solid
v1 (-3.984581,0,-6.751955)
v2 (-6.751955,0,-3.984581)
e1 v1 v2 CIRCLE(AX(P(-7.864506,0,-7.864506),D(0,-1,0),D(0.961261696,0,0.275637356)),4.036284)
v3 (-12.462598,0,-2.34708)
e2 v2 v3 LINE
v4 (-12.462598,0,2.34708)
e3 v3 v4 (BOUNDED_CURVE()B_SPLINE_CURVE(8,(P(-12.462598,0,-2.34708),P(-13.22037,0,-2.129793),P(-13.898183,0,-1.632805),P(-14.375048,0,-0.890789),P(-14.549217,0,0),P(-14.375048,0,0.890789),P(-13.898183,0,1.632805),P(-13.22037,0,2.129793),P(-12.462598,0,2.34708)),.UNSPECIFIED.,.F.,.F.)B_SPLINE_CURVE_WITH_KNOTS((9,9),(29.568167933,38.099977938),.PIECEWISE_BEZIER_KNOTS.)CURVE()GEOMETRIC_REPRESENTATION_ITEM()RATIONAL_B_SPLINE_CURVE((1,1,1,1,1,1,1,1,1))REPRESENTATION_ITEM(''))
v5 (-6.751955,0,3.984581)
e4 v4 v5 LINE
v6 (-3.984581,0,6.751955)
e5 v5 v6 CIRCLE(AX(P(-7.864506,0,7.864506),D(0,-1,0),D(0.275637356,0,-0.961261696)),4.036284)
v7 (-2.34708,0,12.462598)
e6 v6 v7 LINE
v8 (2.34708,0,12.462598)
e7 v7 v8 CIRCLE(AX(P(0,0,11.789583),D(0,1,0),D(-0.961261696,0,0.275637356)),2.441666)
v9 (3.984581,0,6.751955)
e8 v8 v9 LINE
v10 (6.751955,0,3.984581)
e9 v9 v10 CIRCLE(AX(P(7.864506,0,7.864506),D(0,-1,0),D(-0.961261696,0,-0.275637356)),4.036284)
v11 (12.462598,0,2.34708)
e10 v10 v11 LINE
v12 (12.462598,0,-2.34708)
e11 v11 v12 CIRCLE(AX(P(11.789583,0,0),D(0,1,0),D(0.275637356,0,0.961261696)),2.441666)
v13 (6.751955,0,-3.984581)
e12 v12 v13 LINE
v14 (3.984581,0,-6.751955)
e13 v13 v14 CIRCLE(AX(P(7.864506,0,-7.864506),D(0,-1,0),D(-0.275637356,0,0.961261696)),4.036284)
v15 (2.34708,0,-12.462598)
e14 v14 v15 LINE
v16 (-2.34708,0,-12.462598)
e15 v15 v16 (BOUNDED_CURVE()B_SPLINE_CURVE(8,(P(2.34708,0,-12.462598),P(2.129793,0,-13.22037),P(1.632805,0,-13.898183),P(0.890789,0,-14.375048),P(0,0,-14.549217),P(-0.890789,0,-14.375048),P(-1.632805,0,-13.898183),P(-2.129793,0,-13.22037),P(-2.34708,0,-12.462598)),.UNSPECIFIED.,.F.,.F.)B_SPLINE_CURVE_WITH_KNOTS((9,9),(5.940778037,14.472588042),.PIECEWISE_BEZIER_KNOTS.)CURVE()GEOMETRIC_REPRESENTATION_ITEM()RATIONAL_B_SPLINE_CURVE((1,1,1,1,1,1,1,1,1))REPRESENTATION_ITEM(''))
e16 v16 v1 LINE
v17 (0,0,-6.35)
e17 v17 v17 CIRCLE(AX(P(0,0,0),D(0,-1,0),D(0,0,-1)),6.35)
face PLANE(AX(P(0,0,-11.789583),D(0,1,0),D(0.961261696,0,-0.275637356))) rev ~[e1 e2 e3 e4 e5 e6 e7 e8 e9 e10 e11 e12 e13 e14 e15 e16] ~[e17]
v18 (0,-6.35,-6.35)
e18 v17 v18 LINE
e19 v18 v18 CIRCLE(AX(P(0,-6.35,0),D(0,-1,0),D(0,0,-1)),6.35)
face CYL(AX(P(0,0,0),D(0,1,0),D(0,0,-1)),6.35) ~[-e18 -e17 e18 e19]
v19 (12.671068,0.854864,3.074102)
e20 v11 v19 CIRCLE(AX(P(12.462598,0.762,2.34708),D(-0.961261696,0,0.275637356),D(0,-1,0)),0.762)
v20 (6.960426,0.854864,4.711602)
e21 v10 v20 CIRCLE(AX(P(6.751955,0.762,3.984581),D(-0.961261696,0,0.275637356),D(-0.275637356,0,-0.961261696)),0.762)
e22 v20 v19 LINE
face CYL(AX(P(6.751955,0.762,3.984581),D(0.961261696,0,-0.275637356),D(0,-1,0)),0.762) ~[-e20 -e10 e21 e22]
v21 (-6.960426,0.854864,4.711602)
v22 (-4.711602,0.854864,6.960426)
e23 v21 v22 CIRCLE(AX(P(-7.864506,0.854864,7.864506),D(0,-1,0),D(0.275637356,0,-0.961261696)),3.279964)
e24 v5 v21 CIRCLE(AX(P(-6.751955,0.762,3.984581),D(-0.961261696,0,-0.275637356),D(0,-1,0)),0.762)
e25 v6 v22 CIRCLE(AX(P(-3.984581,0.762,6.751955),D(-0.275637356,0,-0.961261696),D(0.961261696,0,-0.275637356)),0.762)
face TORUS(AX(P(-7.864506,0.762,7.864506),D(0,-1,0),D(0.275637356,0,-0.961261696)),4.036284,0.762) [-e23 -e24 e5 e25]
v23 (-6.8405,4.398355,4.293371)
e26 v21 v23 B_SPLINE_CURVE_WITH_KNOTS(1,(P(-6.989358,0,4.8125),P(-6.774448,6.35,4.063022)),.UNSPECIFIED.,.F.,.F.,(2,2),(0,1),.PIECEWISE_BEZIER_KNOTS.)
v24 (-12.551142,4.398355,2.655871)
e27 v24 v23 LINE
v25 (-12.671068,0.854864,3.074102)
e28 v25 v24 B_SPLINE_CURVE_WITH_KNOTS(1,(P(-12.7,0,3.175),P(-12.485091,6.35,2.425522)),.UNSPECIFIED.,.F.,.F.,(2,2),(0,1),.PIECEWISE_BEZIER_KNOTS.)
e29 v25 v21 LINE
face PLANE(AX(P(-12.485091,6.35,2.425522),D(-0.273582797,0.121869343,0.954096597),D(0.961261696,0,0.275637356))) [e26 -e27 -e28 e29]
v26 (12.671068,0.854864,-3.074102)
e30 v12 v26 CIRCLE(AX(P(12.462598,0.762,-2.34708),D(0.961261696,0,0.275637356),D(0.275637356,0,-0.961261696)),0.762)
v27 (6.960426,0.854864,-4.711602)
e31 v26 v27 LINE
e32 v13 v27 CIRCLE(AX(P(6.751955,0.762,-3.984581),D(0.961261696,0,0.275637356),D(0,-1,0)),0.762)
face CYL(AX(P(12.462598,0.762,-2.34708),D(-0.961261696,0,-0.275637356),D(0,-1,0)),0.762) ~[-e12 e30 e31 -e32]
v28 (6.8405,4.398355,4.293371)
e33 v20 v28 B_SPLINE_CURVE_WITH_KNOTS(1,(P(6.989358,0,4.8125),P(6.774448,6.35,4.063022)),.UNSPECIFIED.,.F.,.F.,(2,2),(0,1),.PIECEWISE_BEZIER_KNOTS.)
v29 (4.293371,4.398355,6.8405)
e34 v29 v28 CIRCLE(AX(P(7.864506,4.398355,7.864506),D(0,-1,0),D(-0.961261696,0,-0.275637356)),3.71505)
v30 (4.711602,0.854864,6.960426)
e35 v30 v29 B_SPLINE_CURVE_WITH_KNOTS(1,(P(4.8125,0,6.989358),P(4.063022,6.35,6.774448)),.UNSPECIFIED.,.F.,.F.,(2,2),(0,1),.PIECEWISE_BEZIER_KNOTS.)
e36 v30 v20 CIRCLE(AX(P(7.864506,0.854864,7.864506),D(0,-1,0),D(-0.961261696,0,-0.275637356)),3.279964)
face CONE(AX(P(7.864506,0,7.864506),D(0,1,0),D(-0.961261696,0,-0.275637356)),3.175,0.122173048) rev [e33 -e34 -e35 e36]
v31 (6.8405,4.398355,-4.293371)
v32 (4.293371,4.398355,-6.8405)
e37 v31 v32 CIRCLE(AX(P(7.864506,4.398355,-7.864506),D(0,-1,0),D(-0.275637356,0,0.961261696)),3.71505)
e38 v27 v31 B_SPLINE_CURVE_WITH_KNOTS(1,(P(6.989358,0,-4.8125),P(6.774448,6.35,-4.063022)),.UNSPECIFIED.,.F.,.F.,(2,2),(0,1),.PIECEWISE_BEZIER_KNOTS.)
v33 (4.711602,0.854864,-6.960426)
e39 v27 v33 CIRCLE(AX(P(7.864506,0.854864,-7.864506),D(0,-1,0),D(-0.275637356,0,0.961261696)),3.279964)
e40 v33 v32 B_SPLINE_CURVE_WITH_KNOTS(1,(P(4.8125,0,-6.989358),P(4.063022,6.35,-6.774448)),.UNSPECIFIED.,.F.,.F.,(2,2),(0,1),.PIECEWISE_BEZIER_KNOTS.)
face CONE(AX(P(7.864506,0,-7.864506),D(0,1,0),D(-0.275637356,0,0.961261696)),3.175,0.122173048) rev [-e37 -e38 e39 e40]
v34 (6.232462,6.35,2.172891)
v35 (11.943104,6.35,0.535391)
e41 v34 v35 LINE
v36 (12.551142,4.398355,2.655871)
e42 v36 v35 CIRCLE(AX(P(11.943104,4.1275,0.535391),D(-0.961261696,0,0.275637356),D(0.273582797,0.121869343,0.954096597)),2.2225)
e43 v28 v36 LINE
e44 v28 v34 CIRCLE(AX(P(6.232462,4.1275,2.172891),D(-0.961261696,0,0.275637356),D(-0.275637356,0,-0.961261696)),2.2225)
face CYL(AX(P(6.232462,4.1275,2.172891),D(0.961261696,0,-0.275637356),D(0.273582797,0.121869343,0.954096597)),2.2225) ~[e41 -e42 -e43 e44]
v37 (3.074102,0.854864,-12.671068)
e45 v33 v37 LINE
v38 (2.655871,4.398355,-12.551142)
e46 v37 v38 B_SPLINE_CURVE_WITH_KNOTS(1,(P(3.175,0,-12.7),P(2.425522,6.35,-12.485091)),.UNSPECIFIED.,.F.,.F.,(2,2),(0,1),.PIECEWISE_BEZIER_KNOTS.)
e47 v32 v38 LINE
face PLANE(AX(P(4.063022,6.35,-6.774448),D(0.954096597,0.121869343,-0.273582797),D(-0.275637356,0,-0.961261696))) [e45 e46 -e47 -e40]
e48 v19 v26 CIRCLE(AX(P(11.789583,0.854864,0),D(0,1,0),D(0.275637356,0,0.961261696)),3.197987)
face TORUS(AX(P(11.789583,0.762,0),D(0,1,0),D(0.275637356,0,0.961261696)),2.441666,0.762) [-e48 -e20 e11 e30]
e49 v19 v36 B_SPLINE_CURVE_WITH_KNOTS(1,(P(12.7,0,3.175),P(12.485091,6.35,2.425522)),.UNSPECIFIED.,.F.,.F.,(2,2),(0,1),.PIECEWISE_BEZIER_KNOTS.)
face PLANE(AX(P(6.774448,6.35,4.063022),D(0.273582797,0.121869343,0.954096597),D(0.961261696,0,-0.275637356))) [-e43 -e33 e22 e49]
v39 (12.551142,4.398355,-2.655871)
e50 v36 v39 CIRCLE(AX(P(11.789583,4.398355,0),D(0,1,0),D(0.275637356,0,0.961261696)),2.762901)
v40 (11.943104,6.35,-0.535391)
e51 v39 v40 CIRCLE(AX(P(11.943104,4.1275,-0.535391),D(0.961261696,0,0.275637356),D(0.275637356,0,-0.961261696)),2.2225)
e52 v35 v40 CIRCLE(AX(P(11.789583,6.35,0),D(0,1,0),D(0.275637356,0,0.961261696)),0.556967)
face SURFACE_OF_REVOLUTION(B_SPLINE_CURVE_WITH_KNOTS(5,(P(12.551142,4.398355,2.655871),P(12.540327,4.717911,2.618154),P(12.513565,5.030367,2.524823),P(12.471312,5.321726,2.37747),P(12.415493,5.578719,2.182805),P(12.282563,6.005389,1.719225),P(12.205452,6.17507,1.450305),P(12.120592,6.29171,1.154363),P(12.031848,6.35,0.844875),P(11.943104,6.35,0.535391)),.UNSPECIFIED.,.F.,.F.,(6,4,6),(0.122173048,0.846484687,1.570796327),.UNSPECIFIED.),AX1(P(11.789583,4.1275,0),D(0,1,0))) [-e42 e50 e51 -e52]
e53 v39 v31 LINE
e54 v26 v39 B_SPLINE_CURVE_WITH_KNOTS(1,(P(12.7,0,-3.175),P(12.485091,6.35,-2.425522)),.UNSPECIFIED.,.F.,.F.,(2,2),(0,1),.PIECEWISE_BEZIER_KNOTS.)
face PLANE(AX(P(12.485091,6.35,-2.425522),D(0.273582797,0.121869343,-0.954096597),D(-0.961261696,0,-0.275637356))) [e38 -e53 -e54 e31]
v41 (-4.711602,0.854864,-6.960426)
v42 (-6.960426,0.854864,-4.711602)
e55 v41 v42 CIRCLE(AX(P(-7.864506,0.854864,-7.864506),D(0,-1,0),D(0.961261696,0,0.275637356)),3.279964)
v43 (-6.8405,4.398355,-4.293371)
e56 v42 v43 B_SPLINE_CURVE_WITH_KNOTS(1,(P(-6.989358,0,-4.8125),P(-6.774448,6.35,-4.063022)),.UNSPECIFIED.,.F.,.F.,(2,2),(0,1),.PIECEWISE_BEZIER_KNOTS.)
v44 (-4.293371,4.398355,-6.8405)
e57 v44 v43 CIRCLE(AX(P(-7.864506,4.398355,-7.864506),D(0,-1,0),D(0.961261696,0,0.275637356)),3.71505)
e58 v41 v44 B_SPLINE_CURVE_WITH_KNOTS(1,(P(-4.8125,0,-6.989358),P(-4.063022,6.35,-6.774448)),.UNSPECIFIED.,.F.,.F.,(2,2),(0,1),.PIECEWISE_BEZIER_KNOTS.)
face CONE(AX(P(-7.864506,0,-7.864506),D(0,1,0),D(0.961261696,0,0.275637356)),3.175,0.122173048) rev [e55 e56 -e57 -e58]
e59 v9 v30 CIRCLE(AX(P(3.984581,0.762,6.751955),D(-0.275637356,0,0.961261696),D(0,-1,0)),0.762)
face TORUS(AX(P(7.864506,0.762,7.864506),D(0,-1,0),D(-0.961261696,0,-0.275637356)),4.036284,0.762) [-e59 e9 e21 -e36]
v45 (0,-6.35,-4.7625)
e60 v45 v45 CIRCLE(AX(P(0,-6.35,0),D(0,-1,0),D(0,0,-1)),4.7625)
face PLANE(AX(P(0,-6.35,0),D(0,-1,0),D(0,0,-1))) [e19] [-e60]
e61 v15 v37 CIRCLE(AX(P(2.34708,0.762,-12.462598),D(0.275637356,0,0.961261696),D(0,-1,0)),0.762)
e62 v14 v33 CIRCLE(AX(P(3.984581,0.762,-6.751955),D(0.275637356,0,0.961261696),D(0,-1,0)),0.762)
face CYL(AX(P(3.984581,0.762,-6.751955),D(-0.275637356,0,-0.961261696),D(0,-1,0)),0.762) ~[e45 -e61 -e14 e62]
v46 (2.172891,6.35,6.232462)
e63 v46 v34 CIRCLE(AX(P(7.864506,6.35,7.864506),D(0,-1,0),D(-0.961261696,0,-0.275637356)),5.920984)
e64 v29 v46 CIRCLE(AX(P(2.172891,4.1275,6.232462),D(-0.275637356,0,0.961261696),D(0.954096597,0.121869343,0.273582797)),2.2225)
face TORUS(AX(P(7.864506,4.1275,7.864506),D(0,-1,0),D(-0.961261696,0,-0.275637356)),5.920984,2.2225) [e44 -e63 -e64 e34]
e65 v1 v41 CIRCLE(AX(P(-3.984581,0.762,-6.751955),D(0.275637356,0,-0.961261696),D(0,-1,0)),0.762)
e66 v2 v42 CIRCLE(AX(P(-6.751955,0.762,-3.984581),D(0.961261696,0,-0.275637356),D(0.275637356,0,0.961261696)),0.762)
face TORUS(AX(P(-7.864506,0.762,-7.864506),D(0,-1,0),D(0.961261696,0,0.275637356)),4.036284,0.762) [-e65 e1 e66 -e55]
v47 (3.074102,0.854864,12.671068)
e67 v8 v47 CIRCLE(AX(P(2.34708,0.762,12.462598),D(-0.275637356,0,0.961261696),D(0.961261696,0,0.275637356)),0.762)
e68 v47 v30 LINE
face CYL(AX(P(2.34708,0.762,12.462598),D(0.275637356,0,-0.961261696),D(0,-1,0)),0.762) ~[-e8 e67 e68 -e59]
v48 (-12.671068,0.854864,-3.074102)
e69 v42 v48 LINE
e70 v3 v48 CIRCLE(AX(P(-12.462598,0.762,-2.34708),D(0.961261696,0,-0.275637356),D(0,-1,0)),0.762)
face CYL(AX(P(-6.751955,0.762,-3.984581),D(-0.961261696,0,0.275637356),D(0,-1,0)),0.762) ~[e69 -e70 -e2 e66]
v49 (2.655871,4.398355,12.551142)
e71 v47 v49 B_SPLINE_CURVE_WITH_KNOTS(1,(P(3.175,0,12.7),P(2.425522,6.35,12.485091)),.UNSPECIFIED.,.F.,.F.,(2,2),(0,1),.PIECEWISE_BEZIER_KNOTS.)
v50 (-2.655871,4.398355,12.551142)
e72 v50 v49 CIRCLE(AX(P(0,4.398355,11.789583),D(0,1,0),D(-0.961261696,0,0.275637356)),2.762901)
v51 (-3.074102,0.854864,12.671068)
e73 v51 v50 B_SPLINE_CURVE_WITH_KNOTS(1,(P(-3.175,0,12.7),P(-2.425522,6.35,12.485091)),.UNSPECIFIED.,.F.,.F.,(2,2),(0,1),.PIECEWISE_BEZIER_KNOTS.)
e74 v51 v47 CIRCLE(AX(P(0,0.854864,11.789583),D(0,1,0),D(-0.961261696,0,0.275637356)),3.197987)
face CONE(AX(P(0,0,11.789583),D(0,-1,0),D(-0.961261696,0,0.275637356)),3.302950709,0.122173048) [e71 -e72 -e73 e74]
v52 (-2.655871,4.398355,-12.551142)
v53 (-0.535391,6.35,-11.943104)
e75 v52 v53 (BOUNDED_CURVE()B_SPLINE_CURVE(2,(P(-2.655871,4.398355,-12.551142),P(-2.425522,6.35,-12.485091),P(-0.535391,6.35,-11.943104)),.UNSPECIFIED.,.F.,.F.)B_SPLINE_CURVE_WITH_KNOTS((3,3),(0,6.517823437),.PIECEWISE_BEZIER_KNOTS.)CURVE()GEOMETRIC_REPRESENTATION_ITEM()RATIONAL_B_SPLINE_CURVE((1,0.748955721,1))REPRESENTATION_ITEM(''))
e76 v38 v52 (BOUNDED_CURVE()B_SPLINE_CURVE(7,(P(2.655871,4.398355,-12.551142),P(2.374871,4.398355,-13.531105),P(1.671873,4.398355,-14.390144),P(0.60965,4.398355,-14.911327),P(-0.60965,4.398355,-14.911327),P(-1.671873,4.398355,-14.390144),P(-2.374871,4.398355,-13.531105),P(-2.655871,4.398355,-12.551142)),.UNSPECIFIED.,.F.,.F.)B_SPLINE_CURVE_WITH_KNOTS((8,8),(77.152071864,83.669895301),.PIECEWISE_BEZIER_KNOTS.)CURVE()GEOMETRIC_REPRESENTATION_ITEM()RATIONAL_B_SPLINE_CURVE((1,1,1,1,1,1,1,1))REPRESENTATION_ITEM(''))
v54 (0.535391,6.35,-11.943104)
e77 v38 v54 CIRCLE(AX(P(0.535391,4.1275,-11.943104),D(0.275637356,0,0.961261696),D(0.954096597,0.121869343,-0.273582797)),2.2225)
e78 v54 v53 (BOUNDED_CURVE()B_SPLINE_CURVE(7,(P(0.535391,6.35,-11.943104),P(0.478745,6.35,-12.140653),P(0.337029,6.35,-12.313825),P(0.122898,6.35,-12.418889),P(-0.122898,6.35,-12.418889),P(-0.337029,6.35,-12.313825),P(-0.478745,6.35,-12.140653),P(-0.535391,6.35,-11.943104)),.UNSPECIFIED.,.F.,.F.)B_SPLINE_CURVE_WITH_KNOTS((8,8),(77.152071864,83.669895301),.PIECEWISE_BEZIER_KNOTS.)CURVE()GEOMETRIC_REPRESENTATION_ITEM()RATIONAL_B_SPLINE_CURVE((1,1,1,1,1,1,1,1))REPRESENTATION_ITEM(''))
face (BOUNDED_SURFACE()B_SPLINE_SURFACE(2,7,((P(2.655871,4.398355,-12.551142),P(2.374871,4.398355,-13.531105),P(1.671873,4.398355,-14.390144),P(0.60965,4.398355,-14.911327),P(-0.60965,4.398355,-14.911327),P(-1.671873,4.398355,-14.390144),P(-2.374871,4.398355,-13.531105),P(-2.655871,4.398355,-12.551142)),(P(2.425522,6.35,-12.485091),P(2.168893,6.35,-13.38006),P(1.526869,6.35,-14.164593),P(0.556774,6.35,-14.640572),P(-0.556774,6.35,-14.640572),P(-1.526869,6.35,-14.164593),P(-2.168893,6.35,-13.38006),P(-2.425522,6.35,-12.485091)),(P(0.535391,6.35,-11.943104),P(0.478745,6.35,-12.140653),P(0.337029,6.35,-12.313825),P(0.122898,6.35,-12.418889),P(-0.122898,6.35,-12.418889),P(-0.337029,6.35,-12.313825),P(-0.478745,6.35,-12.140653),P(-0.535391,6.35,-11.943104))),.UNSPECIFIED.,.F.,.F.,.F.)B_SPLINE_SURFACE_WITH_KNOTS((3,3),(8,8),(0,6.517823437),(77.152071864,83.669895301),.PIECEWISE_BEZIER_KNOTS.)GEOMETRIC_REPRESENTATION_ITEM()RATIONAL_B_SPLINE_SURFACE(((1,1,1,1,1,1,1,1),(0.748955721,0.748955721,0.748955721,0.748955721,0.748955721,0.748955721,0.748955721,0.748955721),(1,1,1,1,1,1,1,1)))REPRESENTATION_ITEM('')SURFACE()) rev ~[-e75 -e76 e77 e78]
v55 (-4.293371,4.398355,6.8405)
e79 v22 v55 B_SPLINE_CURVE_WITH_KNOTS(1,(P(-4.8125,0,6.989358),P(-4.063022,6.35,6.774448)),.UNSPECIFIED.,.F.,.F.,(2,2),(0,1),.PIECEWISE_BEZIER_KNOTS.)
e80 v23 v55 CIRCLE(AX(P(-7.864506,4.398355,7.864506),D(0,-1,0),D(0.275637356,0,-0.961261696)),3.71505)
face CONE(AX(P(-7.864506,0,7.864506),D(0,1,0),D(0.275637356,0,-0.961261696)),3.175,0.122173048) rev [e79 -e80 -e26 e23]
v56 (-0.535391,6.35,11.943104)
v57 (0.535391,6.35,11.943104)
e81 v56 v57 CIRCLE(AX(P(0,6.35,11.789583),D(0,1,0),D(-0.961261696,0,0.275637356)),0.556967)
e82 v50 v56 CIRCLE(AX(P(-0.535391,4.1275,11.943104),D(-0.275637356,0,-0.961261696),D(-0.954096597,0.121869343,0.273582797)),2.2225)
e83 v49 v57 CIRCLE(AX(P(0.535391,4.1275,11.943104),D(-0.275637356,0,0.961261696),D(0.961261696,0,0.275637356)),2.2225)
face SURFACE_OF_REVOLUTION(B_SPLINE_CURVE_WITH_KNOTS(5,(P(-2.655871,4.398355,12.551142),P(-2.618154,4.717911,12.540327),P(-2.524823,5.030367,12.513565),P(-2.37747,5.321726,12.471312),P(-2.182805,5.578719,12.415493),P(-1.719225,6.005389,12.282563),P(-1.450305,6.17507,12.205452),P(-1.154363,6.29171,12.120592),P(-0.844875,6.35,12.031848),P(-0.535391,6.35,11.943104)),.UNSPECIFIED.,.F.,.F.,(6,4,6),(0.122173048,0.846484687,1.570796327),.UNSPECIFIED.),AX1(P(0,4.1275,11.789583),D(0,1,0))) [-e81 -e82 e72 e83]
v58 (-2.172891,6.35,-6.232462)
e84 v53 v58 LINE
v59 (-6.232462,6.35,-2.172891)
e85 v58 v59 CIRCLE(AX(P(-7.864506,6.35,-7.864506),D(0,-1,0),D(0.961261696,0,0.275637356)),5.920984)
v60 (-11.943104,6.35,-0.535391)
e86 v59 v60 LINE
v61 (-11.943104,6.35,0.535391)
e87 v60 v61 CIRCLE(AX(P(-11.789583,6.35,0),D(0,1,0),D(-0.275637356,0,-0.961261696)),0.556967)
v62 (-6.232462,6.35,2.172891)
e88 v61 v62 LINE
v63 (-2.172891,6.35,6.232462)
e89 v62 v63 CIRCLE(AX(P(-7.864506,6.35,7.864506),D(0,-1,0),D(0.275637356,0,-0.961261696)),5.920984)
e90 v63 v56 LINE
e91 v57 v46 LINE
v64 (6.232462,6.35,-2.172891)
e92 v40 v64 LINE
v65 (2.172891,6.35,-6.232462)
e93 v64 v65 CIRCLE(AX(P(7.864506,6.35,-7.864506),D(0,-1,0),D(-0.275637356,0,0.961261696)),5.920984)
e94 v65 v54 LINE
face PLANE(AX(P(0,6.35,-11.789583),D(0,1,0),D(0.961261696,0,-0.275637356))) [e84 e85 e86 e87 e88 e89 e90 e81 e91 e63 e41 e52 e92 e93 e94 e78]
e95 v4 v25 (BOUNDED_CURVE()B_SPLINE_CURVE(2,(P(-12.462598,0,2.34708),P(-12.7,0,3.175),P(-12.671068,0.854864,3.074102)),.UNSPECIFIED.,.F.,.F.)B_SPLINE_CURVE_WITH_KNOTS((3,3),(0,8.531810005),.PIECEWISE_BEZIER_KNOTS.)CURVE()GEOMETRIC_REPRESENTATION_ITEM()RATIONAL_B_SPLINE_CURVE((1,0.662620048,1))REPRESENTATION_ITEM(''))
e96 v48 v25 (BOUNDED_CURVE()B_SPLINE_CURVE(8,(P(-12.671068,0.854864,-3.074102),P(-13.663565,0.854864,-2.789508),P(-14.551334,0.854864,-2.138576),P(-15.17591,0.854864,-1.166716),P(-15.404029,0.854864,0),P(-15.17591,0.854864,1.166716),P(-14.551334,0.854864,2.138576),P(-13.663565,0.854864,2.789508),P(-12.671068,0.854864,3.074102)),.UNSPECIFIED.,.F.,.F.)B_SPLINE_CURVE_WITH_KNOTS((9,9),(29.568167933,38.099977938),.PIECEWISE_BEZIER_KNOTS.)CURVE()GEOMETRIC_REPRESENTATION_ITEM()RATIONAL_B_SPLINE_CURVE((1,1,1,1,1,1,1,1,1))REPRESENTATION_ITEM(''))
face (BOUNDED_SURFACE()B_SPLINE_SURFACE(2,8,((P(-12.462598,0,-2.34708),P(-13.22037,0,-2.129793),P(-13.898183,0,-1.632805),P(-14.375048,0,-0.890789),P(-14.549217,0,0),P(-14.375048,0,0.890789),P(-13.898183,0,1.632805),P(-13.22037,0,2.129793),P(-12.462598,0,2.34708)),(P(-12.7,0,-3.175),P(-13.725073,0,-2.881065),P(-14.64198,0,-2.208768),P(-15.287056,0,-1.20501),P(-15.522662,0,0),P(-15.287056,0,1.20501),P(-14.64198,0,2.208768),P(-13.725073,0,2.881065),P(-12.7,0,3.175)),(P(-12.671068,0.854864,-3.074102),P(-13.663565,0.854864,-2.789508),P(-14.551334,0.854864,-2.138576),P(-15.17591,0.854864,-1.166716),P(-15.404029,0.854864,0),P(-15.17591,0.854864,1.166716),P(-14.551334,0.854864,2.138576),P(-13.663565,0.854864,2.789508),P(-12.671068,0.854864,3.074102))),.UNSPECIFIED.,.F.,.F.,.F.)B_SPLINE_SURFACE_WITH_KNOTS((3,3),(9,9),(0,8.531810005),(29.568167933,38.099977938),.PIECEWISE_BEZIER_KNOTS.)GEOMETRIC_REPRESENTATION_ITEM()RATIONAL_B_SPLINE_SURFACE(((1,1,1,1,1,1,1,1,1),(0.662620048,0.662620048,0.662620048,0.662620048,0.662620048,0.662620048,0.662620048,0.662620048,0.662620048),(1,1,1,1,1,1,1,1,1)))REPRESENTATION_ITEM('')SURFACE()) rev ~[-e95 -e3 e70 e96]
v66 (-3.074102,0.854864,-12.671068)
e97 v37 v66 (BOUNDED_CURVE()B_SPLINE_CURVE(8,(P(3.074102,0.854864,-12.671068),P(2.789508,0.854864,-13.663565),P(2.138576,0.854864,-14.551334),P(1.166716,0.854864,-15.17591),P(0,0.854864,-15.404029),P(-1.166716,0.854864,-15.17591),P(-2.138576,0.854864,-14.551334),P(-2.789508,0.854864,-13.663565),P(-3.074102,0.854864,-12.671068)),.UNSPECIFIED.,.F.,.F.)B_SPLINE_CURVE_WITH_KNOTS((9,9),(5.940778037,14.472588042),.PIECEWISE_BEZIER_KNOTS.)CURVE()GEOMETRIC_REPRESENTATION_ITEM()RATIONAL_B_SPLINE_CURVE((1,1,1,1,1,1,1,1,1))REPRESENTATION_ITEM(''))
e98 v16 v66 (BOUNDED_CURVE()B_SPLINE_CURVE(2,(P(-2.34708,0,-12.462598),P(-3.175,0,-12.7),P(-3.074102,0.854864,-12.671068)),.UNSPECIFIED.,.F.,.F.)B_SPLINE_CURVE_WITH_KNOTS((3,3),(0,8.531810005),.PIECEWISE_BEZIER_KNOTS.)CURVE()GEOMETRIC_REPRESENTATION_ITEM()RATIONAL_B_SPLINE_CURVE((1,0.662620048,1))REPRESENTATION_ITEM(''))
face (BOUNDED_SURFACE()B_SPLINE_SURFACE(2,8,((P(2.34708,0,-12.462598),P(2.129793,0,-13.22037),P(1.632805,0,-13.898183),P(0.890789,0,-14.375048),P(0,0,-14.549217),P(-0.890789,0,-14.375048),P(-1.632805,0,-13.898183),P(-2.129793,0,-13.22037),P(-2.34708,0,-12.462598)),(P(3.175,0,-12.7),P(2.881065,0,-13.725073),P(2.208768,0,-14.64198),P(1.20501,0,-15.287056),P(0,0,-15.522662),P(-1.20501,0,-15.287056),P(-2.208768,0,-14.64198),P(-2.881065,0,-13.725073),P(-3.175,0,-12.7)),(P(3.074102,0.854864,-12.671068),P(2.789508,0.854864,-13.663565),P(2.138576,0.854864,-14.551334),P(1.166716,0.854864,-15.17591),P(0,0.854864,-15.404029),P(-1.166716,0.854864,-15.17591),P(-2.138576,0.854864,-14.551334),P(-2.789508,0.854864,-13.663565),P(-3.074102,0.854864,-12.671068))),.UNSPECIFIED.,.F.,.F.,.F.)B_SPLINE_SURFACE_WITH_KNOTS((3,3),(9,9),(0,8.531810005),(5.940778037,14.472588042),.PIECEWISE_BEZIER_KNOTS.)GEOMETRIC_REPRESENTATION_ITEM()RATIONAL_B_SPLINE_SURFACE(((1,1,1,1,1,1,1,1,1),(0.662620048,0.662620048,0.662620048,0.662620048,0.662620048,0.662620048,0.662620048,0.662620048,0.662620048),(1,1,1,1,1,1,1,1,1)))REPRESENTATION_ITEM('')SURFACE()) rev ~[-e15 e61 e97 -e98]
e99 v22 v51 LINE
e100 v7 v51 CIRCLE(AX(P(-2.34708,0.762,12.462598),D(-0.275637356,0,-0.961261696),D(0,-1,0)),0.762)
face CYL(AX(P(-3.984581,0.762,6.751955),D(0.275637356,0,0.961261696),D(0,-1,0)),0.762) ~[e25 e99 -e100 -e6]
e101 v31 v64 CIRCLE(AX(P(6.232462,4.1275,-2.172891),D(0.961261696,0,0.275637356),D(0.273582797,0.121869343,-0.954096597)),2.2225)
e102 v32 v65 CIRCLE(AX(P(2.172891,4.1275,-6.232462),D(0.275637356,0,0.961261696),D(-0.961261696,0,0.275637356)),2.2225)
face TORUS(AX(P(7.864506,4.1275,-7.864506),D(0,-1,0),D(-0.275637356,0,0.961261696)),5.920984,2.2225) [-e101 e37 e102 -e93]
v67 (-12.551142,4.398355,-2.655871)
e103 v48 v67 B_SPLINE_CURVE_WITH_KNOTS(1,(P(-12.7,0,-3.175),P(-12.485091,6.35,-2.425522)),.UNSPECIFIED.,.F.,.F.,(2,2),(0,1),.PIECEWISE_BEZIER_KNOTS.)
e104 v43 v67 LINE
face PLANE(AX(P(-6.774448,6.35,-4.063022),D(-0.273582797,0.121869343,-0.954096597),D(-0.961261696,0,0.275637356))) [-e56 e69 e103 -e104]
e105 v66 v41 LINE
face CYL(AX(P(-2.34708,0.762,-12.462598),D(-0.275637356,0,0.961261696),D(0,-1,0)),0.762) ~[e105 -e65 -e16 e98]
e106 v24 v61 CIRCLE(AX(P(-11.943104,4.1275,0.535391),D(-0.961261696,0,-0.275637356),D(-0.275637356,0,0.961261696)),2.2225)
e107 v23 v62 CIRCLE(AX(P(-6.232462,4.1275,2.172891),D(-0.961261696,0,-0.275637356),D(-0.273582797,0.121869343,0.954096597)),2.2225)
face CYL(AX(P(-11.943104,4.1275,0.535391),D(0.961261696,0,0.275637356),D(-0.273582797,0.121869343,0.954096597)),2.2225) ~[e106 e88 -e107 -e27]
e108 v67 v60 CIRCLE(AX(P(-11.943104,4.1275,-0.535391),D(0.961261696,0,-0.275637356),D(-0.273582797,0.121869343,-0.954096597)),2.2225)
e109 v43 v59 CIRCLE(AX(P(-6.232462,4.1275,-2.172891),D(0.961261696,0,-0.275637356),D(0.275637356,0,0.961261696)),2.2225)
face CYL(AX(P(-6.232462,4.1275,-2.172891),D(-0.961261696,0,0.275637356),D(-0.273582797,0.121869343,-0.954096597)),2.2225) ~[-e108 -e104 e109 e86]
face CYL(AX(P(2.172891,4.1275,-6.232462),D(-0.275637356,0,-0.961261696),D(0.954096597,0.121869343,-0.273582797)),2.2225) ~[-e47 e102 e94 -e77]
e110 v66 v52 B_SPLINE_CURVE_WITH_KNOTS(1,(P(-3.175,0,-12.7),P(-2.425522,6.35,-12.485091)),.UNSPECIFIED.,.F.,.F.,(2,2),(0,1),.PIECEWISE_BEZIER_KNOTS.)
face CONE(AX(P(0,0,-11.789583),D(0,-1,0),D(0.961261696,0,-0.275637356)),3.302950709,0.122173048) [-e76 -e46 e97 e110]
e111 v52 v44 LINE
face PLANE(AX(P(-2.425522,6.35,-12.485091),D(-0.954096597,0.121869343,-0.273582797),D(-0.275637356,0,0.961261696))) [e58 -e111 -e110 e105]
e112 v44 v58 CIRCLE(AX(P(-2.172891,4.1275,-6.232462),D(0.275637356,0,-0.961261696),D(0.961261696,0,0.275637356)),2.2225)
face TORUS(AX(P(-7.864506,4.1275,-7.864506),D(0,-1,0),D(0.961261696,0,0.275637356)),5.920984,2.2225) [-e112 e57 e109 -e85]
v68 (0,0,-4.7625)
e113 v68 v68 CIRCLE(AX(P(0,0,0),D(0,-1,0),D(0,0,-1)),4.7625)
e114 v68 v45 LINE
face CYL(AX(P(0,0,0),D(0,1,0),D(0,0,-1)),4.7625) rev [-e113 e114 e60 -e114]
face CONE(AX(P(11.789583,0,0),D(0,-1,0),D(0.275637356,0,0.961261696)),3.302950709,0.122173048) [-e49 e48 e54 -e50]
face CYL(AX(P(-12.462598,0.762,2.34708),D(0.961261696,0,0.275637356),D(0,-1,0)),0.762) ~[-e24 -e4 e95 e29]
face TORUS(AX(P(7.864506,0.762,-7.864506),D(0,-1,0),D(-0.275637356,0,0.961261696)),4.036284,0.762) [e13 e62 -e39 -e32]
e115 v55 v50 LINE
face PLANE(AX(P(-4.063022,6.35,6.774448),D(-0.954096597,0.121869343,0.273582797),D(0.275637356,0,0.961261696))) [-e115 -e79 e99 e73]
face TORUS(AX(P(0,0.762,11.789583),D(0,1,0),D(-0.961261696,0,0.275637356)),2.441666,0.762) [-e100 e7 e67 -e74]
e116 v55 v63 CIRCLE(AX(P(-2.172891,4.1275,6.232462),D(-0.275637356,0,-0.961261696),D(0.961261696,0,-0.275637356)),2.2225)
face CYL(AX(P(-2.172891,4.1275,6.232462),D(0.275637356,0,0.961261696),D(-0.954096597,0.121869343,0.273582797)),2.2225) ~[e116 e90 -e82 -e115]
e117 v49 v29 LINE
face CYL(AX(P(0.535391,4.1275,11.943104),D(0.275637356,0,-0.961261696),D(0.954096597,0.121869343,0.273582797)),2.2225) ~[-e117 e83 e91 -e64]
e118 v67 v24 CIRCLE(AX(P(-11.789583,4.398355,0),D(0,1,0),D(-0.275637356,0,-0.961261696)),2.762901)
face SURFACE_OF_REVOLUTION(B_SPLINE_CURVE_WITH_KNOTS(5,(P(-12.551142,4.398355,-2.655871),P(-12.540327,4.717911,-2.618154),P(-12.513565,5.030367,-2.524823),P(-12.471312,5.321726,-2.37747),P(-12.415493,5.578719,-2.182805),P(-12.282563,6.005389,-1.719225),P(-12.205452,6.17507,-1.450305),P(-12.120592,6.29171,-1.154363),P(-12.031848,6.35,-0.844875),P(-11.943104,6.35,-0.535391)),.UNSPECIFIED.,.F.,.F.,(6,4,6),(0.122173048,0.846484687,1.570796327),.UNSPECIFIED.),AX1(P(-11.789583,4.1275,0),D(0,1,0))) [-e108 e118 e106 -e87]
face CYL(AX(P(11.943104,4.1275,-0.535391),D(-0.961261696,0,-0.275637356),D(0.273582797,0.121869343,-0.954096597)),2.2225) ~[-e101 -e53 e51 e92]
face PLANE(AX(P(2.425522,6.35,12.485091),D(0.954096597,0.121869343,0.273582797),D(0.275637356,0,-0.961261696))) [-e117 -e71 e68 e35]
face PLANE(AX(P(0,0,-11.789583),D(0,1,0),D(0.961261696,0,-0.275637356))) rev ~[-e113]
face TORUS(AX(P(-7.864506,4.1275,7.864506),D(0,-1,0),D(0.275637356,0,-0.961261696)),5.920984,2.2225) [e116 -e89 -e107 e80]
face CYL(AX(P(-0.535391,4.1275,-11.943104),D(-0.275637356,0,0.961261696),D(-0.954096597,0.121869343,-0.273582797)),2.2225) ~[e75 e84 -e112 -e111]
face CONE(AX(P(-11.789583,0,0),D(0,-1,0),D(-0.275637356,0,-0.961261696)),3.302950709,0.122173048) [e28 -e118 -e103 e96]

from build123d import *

# Parameters (mm, degrees)
EXTRUDE1_DEPTH = 6.35
EXTRUDE1_TAPER = 7.000000000000015
FILLET1_R      = 2.2224999999999997
SKETCH2_R      = 6.35
SKETCH2_R_2    = 4.7625
EXTRUDE2_DEPTH = 6.35
FILLET2_R      = 0.762


with BuildPart() as part:
    # Sketch1 → Extrude1 (new body)
    with BuildSketch(Plane(origin=(0, 0, 0), x_dir=(1, 0, 0), z_dir=(0, 1, 0))):
        with BuildLine():
            ThreePointArc((3.174999999999997, 12.7), (2.4e-15, 15.092534109076349), (-3.17499999999998, 12.7))
            Line((-3.17499999999998, 12.7), (-4.812500349494196, 6.989357629379411))
            ThreePointArc((-4.812500349494196, 6.989357629379411), (-5.619442203831074, 5.619442203831092), (-6.989357629379396, 4.812500349494221))
            Line((-6.989357629379396, 4.812500349494221), (-12.699999999999969, 3.1750000000000442))
            ThreePointArc((-12.699999999999969, 3.1750000000000442), (-15.092534109076396, -4e-16), (-12.699999999999969, -3.1750000000000442))
            Line((-12.699999999999969, -3.1750000000000442), (-6.989357629379396, -4.812500349494221))
            ThreePointArc((-6.989357629379396, -4.812500349494221), (-5.619442203831074, -5.619442203831092), (-4.812500349494196, -6.989357629379411))
            Line((-4.812500349494196, -6.989357629379411), (-3.17499999999998, -12.7))
            ThreePointArc((-3.17499999999998, -12.7), (3.14e-15, -15.092534109076366), (3.174999999999997, -12.7))
            Line((3.174999999999997, -12.7), (4.812500349494196, -6.989357629379411))
            ThreePointArc((4.812500349494196, -6.989357629379411), (5.619442203831074, -5.619442203831092), (6.989357629379396, -4.812500349494221))
            Line((6.989357629379396, -4.812500349494221), (12.699999999999985, -3.1750000000000442))
            ThreePointArc((12.699999999999985, -3.1750000000000442), (15.0925341090764, 0), (12.699999999999985, 3.1750000000000442))
            Line((12.699999999999985, 3.1750000000000442), (6.989357629379396, 4.812500349494221))
            ThreePointArc((6.989357629379396, 4.812500349494221), (5.619442203831074, 5.619442203831092), (4.812500349494196, 6.989357629379411))
            Line((4.812500349494196, 6.989357629379411), (3.174999999999997, 12.7))
        make_face()
    extrude(amount=EXTRUDE1_DEPTH, taper=EXTRUDE1_TAPER)

    # Fillet1
    fillet1_edges = [part.edges().sort_by_distance(p)[0] for p in [
        (-5.068123801520527, 6.35, -5.068123801520538),
        (-9.629769340379273, 6.35, -3.244271769918723),
        (-14.31285214734295, 6.35, 2.2e-16),
        (-9.629769340379273, 6.35, 3.244271769918723),
        (-5.068123801520526, 6.35, 5.06812380152054),
        (-3.2442717699186803, 6.35, 9.629769340379287),
        (1.155e-14, 6.35, 14.312852147342921),
        (3.2442717699186887, 6.35, 9.629769340379289),
        (5.068123801520522, 6.35, 5.068123801520543),
        (9.629769340379273, 6.35, 3.244271769918725),
        (1.443e-14, 6.35, -14.312852147342902),
        (14.312852147342955, 6.35, 1.33e-15),
        (9.629769340379273, 6.35, -3.2442717699187247),
        (5.068123801520526, 6.35, -5.06812380152054),
        (3.2442717699186923, 6.35, -9.629769340379278),
        (-3.2442717699186843, 6.35, -9.629769340379275),
    ]]
    fillet(fillet1_edges, radius=FILLET1_R)

    # Sketch2 → Extrude2 (add)
    with BuildSketch(Plane.XZ):
        with Locations(Location((0, 0, 0), (0, 0, 270))):
            Circle(SKETCH2_R)
        with Locations(Location((0, 0, 0), (0, 0, 270))):
            Circle(SKETCH2_R_2, mode=Mode.SUBTRACT)
    extrude(amount=EXTRUDE2_DEPTH)

    # Fillet2
    fillet2_edges = [part.edges().sort_by_distance(p)[0] for p in [
        (3.9937501747470967, 0, -9.844678814689704),
        (5.619442203831074, 0, -5.619442203831092),
        (9.84467881468969, 0, -3.9937501747471327),
        (15.0925341090764, 0, 3.3e-16),
        (9.84467881468969, 0, 3.9937501747471327),
        (5.619442203831073, 0, 5.619442203831092),
        (3.9937501747470967, 0, 9.844678814689704),
        (7.99e-15, 0, 15.092534109076366),
        (-3.993750174747088, 0, 9.844678814689704),
        (-5.619442203831074, 0, 5.619442203831092),
        (-9.844678814689683, 0, 3.9937501747471327),
        (-15.092534109076396, 0, -3.3e-16),
        (-9.844678814689683, 0, -3.9937501747471327),
        (-5.619442203831073, 0, -5.619442203831092),
        (-3.9937501747470883, 0, -9.844678814689704),
        (8.88e-15, 0, -15.092534109076349),
    ]]
    fillet(fillet2_edges, radius=FILLET2_R)


solid = part.part
